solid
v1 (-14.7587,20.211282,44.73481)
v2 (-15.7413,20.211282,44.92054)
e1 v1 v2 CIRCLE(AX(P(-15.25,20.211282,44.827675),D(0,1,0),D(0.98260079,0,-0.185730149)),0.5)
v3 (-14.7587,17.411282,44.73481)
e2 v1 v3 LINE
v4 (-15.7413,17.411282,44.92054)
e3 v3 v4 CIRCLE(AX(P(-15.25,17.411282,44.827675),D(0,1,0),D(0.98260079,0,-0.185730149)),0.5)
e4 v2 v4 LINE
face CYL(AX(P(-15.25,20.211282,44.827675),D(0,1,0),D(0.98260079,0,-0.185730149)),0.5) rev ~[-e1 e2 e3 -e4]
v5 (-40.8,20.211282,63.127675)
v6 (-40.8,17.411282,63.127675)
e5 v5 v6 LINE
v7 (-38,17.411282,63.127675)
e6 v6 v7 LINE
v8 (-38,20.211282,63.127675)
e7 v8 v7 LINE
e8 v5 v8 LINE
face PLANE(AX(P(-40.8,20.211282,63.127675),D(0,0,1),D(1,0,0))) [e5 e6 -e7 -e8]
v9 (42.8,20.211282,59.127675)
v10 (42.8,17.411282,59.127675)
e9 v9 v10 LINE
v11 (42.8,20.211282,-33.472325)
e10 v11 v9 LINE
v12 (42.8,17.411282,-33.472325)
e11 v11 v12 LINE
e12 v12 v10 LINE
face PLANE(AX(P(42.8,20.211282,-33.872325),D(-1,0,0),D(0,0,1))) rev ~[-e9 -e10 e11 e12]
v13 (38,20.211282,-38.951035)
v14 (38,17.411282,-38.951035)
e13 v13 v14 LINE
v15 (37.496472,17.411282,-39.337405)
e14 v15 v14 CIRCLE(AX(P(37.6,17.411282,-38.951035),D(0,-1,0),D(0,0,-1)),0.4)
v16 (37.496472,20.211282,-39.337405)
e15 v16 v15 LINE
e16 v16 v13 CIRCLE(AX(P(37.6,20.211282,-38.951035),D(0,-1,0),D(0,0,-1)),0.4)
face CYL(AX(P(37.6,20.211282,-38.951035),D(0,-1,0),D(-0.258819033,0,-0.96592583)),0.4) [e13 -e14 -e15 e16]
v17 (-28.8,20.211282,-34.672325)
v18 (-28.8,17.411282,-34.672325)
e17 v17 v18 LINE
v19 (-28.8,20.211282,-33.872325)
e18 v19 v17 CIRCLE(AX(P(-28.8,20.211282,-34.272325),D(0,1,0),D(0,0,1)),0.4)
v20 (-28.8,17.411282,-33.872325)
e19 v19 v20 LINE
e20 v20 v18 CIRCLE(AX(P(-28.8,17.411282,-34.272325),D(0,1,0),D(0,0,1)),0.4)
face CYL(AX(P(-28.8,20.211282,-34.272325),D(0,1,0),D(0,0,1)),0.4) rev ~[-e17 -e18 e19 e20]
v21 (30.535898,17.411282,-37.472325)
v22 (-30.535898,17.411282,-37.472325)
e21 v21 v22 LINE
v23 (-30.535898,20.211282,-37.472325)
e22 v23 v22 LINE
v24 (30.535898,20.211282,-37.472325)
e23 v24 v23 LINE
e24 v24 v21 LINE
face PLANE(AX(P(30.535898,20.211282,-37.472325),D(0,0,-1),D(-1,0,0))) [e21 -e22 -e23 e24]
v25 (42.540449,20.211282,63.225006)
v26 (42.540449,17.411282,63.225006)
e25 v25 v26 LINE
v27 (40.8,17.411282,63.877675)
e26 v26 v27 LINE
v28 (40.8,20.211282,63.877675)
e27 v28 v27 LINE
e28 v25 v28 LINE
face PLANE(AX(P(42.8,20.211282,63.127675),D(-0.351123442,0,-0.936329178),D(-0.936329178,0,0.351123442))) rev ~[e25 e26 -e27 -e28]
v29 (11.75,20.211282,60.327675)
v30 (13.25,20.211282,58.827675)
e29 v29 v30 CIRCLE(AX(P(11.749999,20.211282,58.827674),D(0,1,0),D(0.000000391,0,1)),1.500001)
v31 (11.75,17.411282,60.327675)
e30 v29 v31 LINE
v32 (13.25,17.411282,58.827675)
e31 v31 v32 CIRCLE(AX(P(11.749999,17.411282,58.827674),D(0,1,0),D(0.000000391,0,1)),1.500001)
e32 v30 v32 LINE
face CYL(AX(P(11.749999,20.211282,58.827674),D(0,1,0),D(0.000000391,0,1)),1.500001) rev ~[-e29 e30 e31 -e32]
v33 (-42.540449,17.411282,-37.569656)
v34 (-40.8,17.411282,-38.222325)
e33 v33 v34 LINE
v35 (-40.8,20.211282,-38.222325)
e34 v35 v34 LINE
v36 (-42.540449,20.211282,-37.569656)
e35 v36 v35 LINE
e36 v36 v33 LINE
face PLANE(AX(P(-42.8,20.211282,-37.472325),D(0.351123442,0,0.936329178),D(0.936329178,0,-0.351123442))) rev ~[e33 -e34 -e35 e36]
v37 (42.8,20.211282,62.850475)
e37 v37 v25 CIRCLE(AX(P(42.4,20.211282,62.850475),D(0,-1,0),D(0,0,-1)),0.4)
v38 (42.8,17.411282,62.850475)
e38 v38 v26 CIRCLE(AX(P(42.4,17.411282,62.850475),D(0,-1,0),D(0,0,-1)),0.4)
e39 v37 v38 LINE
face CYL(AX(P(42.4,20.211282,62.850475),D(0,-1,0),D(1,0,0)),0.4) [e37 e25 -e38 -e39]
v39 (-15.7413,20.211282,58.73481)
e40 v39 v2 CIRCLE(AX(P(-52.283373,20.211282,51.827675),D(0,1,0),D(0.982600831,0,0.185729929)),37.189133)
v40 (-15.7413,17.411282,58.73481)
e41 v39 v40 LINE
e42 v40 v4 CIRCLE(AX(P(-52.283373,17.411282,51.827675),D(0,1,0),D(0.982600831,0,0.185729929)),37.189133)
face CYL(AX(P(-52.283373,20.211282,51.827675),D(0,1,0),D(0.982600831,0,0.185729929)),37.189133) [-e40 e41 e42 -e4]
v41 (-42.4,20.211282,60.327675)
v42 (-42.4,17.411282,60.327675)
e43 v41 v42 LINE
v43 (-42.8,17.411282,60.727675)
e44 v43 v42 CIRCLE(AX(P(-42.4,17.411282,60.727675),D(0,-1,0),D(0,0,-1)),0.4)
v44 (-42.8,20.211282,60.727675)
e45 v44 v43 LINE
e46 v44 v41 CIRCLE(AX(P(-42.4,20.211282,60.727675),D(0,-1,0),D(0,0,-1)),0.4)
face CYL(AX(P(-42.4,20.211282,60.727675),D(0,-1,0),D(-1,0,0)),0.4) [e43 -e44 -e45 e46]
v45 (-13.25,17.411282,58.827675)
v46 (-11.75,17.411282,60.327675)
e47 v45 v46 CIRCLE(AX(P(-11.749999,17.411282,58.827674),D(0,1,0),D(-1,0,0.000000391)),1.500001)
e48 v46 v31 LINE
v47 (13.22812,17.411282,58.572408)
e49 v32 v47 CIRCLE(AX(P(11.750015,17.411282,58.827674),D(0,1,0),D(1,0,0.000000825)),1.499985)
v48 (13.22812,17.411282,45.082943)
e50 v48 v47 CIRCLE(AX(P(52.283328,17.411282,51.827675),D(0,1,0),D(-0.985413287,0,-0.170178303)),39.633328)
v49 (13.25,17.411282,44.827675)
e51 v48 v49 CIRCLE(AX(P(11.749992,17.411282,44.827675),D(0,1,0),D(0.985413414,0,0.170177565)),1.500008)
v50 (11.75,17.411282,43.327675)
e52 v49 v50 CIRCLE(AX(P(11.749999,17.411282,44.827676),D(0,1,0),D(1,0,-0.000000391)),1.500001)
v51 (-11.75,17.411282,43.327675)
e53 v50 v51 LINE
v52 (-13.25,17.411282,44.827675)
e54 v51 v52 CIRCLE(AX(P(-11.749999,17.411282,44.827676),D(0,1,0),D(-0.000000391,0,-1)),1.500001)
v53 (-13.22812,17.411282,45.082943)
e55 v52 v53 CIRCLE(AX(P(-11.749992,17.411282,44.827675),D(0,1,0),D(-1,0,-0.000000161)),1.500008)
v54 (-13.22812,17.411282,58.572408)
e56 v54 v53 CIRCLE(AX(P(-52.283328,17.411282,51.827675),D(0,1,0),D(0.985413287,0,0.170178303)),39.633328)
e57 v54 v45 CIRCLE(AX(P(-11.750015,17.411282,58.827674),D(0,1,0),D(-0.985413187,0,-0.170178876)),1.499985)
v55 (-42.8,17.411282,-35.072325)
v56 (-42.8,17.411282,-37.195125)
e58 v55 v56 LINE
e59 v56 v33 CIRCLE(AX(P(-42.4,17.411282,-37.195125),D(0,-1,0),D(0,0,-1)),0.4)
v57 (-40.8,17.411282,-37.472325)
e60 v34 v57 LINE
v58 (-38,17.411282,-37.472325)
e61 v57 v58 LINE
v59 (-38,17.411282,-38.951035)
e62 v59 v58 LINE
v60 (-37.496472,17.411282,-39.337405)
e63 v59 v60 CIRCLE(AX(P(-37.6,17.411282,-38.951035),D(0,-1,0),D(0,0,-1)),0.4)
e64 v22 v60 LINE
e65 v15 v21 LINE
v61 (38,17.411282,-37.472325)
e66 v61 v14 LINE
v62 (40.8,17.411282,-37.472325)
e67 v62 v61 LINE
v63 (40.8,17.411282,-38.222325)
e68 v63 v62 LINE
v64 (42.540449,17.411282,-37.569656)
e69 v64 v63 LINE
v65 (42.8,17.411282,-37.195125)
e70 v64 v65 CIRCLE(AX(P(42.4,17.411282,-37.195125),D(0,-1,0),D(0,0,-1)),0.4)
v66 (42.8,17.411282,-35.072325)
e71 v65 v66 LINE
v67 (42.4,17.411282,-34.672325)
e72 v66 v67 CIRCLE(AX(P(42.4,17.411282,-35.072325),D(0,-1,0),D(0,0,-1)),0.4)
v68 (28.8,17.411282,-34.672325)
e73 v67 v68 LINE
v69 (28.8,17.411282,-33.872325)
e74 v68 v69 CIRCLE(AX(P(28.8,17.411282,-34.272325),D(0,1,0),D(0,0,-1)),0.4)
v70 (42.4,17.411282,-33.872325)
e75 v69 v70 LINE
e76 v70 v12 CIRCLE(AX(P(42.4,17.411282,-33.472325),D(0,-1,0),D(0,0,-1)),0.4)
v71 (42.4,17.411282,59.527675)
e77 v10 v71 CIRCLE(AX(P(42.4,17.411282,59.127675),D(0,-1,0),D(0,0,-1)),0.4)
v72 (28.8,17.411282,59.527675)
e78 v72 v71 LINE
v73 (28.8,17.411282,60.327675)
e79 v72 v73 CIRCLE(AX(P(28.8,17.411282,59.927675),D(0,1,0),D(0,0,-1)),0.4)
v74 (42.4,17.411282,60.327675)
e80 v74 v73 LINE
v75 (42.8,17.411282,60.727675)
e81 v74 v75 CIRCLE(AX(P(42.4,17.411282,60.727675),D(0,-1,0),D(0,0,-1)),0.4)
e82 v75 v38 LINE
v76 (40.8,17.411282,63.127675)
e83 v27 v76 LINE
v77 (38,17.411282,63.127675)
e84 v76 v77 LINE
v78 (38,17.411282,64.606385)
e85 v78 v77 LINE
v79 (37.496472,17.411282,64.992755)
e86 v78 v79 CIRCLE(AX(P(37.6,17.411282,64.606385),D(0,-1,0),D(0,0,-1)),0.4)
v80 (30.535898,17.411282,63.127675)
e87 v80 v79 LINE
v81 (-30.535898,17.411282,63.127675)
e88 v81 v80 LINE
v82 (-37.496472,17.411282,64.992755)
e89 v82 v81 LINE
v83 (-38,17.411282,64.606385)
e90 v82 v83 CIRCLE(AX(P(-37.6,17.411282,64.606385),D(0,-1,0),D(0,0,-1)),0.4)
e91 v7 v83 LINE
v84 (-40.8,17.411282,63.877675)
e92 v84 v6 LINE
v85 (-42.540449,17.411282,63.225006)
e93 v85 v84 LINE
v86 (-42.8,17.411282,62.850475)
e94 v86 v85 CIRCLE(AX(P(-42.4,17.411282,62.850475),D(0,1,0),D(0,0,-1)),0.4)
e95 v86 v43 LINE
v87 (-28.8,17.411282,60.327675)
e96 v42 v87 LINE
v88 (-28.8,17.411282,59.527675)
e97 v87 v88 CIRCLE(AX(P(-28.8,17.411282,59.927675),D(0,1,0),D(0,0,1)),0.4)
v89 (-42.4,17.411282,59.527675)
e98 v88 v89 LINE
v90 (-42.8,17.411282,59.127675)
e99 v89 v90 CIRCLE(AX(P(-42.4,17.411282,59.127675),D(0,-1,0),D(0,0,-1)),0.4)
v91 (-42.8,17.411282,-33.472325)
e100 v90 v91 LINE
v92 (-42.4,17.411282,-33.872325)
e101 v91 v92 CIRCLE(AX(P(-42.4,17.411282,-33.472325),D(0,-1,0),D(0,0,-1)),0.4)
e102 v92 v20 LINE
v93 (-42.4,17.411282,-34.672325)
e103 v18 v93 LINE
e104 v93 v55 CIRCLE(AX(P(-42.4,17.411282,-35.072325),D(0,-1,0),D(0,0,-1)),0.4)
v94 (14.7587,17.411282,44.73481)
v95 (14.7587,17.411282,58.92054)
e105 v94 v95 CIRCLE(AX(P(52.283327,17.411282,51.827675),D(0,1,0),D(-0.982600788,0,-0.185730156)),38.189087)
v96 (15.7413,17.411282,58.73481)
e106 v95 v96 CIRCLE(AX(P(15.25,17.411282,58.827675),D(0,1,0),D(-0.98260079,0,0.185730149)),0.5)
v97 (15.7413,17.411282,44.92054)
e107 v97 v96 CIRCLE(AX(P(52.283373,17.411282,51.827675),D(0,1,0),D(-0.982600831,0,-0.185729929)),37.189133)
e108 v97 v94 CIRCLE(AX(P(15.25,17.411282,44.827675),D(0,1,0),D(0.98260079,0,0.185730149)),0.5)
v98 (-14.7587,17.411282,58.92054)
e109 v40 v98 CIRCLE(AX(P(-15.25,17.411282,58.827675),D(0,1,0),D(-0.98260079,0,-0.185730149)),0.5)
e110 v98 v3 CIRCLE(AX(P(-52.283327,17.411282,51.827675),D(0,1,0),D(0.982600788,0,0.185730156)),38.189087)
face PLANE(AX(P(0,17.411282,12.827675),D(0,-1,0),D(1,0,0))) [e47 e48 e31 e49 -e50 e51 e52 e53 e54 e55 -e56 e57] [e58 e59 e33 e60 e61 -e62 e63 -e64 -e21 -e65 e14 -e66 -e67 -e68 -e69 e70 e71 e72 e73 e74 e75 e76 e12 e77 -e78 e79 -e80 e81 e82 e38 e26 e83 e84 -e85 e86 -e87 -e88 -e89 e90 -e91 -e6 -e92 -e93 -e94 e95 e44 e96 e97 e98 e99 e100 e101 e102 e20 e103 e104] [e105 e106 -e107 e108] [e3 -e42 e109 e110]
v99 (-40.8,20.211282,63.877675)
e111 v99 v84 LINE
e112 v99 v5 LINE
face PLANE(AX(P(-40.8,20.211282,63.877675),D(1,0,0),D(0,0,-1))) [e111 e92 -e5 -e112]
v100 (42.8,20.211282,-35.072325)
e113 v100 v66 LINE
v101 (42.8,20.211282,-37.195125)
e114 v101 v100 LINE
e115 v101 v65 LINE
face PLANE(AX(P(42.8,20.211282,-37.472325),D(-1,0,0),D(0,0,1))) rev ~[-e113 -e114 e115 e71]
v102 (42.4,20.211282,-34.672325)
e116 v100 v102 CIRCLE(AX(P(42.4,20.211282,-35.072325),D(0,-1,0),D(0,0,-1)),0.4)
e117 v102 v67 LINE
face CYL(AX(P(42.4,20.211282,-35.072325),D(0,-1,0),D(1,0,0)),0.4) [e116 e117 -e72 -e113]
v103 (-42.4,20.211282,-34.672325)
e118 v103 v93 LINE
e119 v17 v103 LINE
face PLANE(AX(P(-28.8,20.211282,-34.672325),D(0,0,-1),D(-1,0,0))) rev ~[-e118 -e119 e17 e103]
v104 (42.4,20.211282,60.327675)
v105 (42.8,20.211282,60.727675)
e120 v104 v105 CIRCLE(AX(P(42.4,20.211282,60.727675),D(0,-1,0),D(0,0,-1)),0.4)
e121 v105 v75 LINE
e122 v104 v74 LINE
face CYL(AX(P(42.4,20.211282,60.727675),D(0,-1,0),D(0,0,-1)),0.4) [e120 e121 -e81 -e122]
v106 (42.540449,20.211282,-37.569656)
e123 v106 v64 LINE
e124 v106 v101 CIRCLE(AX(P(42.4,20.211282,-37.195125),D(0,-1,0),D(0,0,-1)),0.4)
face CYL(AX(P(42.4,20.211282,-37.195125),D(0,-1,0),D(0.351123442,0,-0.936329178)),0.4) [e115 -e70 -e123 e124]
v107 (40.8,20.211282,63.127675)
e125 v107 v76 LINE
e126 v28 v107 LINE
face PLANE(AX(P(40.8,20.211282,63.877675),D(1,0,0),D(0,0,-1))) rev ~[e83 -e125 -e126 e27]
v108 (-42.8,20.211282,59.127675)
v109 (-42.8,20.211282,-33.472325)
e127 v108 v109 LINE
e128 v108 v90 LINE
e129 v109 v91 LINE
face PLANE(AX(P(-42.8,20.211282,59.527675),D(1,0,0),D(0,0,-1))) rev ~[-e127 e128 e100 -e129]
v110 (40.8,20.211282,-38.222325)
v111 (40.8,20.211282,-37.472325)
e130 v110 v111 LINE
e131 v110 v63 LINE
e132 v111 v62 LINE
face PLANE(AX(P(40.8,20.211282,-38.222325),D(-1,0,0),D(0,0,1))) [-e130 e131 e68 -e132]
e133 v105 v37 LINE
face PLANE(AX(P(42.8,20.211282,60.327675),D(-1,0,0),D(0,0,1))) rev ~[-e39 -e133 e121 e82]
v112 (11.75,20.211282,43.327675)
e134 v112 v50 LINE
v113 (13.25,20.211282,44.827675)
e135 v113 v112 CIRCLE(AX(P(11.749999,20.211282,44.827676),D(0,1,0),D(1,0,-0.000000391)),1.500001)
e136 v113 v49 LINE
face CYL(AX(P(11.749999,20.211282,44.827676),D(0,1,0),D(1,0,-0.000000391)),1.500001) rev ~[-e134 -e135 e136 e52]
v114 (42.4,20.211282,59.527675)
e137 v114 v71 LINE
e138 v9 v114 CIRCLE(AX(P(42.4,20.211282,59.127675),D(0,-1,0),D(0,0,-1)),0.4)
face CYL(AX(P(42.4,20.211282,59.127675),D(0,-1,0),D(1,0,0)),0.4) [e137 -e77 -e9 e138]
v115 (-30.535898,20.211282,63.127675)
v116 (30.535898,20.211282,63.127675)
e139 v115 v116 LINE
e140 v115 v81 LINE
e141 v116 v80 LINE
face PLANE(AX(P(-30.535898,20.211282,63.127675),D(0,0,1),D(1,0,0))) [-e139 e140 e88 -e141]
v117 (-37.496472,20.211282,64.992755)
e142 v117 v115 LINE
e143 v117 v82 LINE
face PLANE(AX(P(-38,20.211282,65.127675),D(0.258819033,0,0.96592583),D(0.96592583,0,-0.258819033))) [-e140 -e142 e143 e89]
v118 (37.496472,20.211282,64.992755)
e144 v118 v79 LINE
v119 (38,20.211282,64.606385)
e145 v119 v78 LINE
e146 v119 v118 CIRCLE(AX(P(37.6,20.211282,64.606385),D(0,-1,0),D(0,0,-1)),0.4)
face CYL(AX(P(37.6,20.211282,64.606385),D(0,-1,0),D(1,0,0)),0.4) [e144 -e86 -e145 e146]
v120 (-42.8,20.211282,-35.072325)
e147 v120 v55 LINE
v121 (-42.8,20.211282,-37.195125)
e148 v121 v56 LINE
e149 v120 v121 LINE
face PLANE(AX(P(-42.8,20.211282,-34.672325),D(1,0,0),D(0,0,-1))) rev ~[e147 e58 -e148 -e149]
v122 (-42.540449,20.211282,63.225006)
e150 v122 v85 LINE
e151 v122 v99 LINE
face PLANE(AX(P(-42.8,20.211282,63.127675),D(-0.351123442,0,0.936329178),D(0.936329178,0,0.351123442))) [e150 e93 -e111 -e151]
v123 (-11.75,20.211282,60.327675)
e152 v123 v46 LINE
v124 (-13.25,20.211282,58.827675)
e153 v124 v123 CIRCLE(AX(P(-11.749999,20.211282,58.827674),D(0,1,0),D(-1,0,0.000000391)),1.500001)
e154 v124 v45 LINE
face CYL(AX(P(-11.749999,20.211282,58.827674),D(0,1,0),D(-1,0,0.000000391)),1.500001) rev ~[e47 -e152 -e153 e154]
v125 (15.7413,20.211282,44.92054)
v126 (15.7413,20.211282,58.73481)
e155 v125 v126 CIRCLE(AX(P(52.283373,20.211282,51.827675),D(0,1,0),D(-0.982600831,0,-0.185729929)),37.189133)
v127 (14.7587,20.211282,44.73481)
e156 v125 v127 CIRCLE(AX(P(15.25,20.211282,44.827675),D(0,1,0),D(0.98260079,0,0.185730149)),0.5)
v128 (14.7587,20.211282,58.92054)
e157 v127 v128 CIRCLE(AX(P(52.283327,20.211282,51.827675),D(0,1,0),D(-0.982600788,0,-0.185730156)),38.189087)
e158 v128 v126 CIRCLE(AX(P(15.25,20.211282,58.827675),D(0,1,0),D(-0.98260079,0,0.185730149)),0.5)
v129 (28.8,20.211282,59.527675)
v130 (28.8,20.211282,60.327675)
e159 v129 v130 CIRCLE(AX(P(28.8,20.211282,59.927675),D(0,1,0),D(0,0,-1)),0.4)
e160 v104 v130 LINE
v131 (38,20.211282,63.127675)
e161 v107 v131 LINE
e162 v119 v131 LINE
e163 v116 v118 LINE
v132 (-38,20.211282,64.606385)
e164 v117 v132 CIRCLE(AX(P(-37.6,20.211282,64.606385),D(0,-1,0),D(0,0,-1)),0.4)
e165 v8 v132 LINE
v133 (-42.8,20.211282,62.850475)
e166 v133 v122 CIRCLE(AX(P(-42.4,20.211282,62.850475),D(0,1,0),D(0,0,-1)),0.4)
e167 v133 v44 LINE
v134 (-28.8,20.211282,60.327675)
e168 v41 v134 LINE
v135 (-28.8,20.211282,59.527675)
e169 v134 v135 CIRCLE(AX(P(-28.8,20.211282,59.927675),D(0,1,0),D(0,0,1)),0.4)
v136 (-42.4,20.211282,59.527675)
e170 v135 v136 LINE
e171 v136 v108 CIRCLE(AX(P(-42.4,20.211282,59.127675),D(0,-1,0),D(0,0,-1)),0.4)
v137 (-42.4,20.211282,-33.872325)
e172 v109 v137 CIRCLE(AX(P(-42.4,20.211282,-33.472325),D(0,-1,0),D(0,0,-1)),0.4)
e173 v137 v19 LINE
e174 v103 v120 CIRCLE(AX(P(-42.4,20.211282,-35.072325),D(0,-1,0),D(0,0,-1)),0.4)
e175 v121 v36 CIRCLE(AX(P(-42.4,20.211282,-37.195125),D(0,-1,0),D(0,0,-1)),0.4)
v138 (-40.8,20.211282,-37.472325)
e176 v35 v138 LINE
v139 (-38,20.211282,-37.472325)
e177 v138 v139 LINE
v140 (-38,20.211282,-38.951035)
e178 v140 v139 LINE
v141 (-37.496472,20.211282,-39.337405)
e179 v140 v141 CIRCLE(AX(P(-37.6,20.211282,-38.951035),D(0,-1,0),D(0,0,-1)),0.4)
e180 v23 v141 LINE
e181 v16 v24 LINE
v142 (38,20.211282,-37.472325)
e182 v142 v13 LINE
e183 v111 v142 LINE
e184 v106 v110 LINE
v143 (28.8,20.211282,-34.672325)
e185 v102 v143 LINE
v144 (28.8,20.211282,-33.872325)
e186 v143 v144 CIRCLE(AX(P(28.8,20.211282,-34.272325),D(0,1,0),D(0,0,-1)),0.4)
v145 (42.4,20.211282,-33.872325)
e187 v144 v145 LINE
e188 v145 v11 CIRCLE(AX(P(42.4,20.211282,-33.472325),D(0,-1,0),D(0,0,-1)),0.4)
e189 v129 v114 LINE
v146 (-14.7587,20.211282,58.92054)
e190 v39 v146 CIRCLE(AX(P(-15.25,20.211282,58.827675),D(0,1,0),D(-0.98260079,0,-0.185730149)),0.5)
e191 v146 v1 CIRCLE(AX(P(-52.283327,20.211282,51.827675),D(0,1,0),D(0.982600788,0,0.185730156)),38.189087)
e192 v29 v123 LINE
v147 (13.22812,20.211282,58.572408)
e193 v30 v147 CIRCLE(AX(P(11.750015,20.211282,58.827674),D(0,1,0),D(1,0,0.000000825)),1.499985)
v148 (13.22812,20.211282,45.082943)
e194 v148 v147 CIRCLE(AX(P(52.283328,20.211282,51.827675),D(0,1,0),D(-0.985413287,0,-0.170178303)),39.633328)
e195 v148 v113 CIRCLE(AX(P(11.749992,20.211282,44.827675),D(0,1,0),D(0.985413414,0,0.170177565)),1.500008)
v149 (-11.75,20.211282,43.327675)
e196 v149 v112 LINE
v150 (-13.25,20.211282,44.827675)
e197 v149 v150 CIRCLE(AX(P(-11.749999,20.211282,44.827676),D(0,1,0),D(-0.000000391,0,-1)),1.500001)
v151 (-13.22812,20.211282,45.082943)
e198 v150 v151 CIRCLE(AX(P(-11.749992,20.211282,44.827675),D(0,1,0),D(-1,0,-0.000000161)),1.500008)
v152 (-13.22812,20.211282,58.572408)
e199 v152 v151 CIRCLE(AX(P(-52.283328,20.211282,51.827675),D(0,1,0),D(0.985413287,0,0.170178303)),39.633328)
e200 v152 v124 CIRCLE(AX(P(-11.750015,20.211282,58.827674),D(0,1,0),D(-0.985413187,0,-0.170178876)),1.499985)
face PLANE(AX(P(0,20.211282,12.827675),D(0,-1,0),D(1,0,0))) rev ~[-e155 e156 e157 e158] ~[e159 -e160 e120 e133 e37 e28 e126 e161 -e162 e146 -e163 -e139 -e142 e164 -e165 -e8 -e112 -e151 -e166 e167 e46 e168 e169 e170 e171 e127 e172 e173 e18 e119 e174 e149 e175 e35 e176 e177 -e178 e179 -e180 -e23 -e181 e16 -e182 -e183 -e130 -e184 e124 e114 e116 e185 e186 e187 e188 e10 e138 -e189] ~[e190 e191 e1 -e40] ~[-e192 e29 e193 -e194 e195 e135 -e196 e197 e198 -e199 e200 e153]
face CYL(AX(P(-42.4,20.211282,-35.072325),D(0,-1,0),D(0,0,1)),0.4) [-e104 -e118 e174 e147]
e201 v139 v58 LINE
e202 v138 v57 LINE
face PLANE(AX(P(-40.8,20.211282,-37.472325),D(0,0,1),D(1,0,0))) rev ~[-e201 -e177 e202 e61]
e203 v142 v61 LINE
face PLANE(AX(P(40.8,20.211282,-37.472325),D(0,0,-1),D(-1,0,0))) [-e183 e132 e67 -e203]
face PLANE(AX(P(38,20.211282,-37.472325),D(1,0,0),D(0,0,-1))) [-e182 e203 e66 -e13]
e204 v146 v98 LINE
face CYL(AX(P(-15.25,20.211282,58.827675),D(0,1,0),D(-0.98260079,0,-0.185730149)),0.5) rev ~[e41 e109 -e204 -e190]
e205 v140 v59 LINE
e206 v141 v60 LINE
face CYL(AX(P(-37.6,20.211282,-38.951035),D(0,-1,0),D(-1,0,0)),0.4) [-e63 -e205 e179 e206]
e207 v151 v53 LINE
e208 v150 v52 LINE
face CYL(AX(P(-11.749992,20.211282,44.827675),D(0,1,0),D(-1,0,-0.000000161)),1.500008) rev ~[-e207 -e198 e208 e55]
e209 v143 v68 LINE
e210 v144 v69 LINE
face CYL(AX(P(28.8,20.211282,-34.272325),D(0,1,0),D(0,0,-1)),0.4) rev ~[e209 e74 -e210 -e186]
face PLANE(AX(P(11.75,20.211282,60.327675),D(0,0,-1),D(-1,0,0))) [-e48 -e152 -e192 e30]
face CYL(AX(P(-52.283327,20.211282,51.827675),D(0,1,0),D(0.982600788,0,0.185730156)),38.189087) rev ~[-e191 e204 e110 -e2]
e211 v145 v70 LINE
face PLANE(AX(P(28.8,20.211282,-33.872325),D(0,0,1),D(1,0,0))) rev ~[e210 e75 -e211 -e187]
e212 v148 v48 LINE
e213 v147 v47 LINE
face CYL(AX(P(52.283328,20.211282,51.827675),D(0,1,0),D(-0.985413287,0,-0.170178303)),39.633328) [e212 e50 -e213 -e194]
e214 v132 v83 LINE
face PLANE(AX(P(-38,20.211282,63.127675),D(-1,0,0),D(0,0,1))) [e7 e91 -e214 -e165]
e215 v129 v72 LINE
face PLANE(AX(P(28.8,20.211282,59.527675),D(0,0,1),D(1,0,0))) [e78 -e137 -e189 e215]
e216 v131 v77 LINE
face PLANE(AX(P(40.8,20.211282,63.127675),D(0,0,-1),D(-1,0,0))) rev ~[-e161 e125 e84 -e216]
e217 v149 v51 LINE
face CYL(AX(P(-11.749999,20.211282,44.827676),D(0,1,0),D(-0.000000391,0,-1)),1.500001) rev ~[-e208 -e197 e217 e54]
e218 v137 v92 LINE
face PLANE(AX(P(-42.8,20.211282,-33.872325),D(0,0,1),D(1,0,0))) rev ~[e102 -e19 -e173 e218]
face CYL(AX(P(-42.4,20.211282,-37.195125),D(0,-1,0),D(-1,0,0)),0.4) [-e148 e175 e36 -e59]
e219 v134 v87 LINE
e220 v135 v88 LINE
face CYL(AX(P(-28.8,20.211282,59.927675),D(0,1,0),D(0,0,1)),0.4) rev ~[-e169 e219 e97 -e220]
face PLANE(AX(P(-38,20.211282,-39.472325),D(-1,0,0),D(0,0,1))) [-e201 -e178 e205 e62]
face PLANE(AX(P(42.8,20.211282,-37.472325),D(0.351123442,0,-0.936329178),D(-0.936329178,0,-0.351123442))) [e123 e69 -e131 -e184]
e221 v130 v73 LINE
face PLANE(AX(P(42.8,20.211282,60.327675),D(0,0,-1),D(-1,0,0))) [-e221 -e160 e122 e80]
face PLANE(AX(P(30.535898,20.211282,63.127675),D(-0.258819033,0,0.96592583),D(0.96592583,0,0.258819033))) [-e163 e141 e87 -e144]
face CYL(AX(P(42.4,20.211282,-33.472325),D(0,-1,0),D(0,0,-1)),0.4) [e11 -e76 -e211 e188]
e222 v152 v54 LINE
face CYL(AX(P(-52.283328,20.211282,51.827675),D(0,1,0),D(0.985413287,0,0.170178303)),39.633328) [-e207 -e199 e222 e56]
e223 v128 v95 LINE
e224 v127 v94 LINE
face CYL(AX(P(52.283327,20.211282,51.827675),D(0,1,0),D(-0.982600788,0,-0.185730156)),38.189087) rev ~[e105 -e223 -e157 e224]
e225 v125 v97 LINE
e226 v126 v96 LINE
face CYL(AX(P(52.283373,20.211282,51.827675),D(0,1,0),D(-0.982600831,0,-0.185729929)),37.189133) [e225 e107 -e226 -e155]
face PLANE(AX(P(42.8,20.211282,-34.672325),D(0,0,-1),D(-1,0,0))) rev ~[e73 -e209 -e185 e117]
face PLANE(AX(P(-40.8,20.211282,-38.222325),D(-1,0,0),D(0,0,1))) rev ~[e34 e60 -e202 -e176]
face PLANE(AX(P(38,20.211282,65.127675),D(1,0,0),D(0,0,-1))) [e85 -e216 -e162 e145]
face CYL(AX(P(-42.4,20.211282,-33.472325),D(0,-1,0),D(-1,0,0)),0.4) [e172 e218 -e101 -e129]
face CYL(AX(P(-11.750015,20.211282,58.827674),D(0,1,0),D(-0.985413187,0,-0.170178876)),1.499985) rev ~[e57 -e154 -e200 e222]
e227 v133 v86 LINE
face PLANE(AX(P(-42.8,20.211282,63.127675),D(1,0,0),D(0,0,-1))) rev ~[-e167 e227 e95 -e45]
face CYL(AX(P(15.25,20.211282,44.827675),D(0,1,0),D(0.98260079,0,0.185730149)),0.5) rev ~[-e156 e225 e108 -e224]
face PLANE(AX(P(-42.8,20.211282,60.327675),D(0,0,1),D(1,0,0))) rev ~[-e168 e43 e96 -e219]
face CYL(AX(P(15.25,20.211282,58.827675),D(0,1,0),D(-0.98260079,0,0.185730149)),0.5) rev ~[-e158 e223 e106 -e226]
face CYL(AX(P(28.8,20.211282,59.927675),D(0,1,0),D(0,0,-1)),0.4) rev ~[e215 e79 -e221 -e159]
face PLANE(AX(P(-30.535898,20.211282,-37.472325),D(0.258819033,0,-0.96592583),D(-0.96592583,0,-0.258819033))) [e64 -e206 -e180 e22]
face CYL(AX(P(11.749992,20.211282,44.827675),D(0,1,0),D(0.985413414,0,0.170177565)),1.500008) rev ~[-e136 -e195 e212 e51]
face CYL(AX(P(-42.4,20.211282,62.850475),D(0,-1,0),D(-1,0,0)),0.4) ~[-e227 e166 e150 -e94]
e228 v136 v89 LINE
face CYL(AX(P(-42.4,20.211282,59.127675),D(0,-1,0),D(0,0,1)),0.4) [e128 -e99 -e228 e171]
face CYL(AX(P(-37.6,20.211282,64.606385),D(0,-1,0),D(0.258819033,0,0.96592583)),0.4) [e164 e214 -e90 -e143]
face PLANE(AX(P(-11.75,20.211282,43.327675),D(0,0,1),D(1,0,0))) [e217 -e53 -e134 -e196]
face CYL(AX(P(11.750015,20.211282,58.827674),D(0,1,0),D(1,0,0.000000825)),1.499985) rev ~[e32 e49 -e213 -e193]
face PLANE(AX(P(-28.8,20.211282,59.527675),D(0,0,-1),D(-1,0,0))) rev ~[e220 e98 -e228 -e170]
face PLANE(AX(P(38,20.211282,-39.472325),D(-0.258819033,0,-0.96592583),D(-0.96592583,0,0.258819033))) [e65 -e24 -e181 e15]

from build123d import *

# Parameters (mm, degrees)
PAD008_DEPTH    = 2.8
FILLET001_R     = 0.4
POCKET004_DEPTH = 2.801


with BuildPart() as part:
    # Sketch008 (on Face4 of ShapeBinder007) → Pad008 (new body)
    with BuildSketch(Plane(origin=(0, 20.211282, 0), x_dir=(-1, 0, 0), z_dir=(0, 1, 0))):
        with BuildLine():
            Line((42.8, 63.127675), (42.8, 60.327675))
            Line((42.8, 60.327675), (28.8, 60.327675))
            ThreePointArc((28.8, 60.327675), (28.4, 59.927675), (28.8, 59.527675))
            Line((28.8, 59.527675), (42.8, 59.527675))
            Line((42.8, 59.527675), (42.8, -33.872325))
            Line((42.8, -33.872325), (28.8, -33.872325))
            ThreePointArc((28.8, -33.872325), (28.4, -34.272325), (28.8, -34.672325))
            Line((28.8, -34.672325), (42.8, -34.672325))
            Line((42.8, -34.672325), (42.8, -37.472325))
            Line((42.8, -37.472325), (40.8, -38.222325))
            Line((40.8, -38.222325), (40.8, -37.472325))
            Line((40.8, -37.472325), (38, -37.472325))
            Line((38, -39.472325), (38, -37.472325))
            Line((30.535898, -37.472325), (38, -39.472325))
            Line((-30.535898, -37.472325), (30.535898, -37.472325))
            Line((-38, -39.472325), (-30.535898, -37.472325))
            Line((-38, -37.472325), (-38, -39.472325))
            Line((-40.8, -37.472325), (-38, -37.472325))
            Line((-40.8, -38.222325), (-40.8, -37.472325))
            Line((-42.8, -37.472325), (-40.8, -38.222325))
            Line((-42.8, -37.472325), (-42.8, -34.672325))
            Line((-42.8, -34.672325), (-28.8, -34.672325))
            ThreePointArc((-28.8, -34.672325), (-28.4, -34.272325), (-28.8, -33.872325))
            Line((-28.8, -33.872325), (-42.8, -33.872325))
            Line((-42.8, -33.872325), (-42.8, 59.527675))
            Line((-28.8, 59.527675), (-42.8, 59.527675))
            ThreePointArc((-28.8, 59.527675), (-28.4, 59.927675), (-28.8, 60.327675))
            Line((-42.8, 60.327675), (-28.8, 60.327675))
            Line((-42.8, 60.327675), (-42.8, 63.127675))
            Line((-42.8, 63.127675), (-40.8, 63.877675))
            Line((-40.8, 63.877675), (-40.8, 63.127675))
            Line((-40.8, 63.127675), (-38, 63.127675))
            Line((-38, 65.127675), (-38, 63.127675))
            Line((-30.535898, 63.127675), (-38, 65.127675))
            Line((30.535898, 63.127675), (-30.535898, 63.127675))
            Line((38, 65.127675), (30.535898, 63.127675))
            Line((38, 63.127675), (38, 65.127675))
            Line((40.8, 63.127675), (38, 63.127675))
            Line((40.8, 63.877675), (40.8, 63.127675))
            Line((42.8, 63.127675), (40.8, 63.877675))
        make_face()
    extrude(amount=-PAD008_DEPTH)

    # Fillet001
    fillet001_edges = [part.edges().sort_by_distance(p)[0] for p in [
        (-38, 18.811282, -39.472325),
        (-42.8, 18.811282, -37.472325),
        (-42.8, 18.811282, -34.672325),
        (-42.8, 18.811282, -33.872325),
        (-42.8, 18.811282, 59.527675),
        (-42.8, 18.811282, 60.327675),
        (-42.8, 18.811282, 63.127675),
        (-38, 18.811282, 65.127675),
        (42.8, 18.811282, 59.527675),
        (42.8, 18.811282, 60.327675),
        (42.8, 18.811282, 63.127675),
        (38, 18.811282, 65.127675),
        (42.8, 18.811282, -33.872325),
        (42.8, 18.811282, -34.672325),
        (42.8, 18.811282, -37.472325),
        (38, 18.811282, -39.472325),
    ]]
    fillet(fillet001_edges, radius=FILLET001_R)

    # Sketch017 (on Face2 of Fillet001) → Pocket004 (cut, through all)
    with BuildSketch(Plane(origin=(0, 20.211282, 0), x_dir=(-1, 0, 0), z_dir=(0, 1, 0))):
        with BuildLine():
            ThreePointArc((-11.75, 60.327675), (-12.81066, 59.888335), (-13.25, 58.827675))
            ThreePointArc((-13.25, 58.827675), (-13.24452, 58.699573), (-13.22812, 58.572408))
            ThreePointArc((-13.22812, 45.082943), (-12.65, 51.827675), (-13.22812, 58.572408))
            ThreePointArc((-13.22812, 45.082943), (-13.24452, 44.955777), (-13.25, 44.827675))
            ThreePointArc((-13.25, 44.827675), (-12.81066, 43.767015), (-11.75, 43.327675))
            Line((11.75, 43.327675), (-11.75, 43.327675))
            ThreePointArc((11.75, 43.327675), (12.81066, 43.767015), (13.25, 44.827675))
            ThreePointArc((13.25, 44.827675), (13.24452, 44.955777), (13.22812, 45.082943))
            ThreePointArc((13.22812, 58.572408), (12.65, 51.827675), (13.22812, 45.082943))
            ThreePointArc((13.22812, 58.572408), (13.24452, 58.699573), (13.25, 58.827675))
            ThreePointArc((13.25, 58.827675), (12.81066, 59.888335), (11.75, 60.327675))
            Line((-11.75, 60.327675), (11.75, 60.327675))
        make_face()
        with BuildLine():
            ThreePointArc((-14.7587, 44.73481), (-14.09424, 51.827675), (-14.7587, 58.92054))
            ThreePointArc((-14.7587, 58.92054), (-15.342865, 59.318975), (-15.7413, 58.73481))
            ThreePointArc((-15.7413, 44.92054), (-15.09424, 51.827675), (-15.7413, 58.73481))
            ThreePointArc((-15.7413, 44.92054), (-15.342865, 44.336375), (-14.7587, 44.73481))
        make_face()
        with BuildLine():
            ThreePointArc((14.7587, 58.92054), (14.09424, 51.827675), (14.7587, 44.73481))
            ThreePointArc((14.7587, 44.73481), (15.342865, 44.336375), (15.7413, 44.92054))
            ThreePointArc((15.7413, 58.73481), (15.09424, 51.827675), (15.7413, 44.92054))
            ThreePointArc((15.7413, 58.73481), (15.342865, 59.318975), (14.7587, 58.92054))
        make_face()
    extrude(amount=-POCKET004_DEPTH, mode=Mode.SUBTRACT)


solid = part.part
